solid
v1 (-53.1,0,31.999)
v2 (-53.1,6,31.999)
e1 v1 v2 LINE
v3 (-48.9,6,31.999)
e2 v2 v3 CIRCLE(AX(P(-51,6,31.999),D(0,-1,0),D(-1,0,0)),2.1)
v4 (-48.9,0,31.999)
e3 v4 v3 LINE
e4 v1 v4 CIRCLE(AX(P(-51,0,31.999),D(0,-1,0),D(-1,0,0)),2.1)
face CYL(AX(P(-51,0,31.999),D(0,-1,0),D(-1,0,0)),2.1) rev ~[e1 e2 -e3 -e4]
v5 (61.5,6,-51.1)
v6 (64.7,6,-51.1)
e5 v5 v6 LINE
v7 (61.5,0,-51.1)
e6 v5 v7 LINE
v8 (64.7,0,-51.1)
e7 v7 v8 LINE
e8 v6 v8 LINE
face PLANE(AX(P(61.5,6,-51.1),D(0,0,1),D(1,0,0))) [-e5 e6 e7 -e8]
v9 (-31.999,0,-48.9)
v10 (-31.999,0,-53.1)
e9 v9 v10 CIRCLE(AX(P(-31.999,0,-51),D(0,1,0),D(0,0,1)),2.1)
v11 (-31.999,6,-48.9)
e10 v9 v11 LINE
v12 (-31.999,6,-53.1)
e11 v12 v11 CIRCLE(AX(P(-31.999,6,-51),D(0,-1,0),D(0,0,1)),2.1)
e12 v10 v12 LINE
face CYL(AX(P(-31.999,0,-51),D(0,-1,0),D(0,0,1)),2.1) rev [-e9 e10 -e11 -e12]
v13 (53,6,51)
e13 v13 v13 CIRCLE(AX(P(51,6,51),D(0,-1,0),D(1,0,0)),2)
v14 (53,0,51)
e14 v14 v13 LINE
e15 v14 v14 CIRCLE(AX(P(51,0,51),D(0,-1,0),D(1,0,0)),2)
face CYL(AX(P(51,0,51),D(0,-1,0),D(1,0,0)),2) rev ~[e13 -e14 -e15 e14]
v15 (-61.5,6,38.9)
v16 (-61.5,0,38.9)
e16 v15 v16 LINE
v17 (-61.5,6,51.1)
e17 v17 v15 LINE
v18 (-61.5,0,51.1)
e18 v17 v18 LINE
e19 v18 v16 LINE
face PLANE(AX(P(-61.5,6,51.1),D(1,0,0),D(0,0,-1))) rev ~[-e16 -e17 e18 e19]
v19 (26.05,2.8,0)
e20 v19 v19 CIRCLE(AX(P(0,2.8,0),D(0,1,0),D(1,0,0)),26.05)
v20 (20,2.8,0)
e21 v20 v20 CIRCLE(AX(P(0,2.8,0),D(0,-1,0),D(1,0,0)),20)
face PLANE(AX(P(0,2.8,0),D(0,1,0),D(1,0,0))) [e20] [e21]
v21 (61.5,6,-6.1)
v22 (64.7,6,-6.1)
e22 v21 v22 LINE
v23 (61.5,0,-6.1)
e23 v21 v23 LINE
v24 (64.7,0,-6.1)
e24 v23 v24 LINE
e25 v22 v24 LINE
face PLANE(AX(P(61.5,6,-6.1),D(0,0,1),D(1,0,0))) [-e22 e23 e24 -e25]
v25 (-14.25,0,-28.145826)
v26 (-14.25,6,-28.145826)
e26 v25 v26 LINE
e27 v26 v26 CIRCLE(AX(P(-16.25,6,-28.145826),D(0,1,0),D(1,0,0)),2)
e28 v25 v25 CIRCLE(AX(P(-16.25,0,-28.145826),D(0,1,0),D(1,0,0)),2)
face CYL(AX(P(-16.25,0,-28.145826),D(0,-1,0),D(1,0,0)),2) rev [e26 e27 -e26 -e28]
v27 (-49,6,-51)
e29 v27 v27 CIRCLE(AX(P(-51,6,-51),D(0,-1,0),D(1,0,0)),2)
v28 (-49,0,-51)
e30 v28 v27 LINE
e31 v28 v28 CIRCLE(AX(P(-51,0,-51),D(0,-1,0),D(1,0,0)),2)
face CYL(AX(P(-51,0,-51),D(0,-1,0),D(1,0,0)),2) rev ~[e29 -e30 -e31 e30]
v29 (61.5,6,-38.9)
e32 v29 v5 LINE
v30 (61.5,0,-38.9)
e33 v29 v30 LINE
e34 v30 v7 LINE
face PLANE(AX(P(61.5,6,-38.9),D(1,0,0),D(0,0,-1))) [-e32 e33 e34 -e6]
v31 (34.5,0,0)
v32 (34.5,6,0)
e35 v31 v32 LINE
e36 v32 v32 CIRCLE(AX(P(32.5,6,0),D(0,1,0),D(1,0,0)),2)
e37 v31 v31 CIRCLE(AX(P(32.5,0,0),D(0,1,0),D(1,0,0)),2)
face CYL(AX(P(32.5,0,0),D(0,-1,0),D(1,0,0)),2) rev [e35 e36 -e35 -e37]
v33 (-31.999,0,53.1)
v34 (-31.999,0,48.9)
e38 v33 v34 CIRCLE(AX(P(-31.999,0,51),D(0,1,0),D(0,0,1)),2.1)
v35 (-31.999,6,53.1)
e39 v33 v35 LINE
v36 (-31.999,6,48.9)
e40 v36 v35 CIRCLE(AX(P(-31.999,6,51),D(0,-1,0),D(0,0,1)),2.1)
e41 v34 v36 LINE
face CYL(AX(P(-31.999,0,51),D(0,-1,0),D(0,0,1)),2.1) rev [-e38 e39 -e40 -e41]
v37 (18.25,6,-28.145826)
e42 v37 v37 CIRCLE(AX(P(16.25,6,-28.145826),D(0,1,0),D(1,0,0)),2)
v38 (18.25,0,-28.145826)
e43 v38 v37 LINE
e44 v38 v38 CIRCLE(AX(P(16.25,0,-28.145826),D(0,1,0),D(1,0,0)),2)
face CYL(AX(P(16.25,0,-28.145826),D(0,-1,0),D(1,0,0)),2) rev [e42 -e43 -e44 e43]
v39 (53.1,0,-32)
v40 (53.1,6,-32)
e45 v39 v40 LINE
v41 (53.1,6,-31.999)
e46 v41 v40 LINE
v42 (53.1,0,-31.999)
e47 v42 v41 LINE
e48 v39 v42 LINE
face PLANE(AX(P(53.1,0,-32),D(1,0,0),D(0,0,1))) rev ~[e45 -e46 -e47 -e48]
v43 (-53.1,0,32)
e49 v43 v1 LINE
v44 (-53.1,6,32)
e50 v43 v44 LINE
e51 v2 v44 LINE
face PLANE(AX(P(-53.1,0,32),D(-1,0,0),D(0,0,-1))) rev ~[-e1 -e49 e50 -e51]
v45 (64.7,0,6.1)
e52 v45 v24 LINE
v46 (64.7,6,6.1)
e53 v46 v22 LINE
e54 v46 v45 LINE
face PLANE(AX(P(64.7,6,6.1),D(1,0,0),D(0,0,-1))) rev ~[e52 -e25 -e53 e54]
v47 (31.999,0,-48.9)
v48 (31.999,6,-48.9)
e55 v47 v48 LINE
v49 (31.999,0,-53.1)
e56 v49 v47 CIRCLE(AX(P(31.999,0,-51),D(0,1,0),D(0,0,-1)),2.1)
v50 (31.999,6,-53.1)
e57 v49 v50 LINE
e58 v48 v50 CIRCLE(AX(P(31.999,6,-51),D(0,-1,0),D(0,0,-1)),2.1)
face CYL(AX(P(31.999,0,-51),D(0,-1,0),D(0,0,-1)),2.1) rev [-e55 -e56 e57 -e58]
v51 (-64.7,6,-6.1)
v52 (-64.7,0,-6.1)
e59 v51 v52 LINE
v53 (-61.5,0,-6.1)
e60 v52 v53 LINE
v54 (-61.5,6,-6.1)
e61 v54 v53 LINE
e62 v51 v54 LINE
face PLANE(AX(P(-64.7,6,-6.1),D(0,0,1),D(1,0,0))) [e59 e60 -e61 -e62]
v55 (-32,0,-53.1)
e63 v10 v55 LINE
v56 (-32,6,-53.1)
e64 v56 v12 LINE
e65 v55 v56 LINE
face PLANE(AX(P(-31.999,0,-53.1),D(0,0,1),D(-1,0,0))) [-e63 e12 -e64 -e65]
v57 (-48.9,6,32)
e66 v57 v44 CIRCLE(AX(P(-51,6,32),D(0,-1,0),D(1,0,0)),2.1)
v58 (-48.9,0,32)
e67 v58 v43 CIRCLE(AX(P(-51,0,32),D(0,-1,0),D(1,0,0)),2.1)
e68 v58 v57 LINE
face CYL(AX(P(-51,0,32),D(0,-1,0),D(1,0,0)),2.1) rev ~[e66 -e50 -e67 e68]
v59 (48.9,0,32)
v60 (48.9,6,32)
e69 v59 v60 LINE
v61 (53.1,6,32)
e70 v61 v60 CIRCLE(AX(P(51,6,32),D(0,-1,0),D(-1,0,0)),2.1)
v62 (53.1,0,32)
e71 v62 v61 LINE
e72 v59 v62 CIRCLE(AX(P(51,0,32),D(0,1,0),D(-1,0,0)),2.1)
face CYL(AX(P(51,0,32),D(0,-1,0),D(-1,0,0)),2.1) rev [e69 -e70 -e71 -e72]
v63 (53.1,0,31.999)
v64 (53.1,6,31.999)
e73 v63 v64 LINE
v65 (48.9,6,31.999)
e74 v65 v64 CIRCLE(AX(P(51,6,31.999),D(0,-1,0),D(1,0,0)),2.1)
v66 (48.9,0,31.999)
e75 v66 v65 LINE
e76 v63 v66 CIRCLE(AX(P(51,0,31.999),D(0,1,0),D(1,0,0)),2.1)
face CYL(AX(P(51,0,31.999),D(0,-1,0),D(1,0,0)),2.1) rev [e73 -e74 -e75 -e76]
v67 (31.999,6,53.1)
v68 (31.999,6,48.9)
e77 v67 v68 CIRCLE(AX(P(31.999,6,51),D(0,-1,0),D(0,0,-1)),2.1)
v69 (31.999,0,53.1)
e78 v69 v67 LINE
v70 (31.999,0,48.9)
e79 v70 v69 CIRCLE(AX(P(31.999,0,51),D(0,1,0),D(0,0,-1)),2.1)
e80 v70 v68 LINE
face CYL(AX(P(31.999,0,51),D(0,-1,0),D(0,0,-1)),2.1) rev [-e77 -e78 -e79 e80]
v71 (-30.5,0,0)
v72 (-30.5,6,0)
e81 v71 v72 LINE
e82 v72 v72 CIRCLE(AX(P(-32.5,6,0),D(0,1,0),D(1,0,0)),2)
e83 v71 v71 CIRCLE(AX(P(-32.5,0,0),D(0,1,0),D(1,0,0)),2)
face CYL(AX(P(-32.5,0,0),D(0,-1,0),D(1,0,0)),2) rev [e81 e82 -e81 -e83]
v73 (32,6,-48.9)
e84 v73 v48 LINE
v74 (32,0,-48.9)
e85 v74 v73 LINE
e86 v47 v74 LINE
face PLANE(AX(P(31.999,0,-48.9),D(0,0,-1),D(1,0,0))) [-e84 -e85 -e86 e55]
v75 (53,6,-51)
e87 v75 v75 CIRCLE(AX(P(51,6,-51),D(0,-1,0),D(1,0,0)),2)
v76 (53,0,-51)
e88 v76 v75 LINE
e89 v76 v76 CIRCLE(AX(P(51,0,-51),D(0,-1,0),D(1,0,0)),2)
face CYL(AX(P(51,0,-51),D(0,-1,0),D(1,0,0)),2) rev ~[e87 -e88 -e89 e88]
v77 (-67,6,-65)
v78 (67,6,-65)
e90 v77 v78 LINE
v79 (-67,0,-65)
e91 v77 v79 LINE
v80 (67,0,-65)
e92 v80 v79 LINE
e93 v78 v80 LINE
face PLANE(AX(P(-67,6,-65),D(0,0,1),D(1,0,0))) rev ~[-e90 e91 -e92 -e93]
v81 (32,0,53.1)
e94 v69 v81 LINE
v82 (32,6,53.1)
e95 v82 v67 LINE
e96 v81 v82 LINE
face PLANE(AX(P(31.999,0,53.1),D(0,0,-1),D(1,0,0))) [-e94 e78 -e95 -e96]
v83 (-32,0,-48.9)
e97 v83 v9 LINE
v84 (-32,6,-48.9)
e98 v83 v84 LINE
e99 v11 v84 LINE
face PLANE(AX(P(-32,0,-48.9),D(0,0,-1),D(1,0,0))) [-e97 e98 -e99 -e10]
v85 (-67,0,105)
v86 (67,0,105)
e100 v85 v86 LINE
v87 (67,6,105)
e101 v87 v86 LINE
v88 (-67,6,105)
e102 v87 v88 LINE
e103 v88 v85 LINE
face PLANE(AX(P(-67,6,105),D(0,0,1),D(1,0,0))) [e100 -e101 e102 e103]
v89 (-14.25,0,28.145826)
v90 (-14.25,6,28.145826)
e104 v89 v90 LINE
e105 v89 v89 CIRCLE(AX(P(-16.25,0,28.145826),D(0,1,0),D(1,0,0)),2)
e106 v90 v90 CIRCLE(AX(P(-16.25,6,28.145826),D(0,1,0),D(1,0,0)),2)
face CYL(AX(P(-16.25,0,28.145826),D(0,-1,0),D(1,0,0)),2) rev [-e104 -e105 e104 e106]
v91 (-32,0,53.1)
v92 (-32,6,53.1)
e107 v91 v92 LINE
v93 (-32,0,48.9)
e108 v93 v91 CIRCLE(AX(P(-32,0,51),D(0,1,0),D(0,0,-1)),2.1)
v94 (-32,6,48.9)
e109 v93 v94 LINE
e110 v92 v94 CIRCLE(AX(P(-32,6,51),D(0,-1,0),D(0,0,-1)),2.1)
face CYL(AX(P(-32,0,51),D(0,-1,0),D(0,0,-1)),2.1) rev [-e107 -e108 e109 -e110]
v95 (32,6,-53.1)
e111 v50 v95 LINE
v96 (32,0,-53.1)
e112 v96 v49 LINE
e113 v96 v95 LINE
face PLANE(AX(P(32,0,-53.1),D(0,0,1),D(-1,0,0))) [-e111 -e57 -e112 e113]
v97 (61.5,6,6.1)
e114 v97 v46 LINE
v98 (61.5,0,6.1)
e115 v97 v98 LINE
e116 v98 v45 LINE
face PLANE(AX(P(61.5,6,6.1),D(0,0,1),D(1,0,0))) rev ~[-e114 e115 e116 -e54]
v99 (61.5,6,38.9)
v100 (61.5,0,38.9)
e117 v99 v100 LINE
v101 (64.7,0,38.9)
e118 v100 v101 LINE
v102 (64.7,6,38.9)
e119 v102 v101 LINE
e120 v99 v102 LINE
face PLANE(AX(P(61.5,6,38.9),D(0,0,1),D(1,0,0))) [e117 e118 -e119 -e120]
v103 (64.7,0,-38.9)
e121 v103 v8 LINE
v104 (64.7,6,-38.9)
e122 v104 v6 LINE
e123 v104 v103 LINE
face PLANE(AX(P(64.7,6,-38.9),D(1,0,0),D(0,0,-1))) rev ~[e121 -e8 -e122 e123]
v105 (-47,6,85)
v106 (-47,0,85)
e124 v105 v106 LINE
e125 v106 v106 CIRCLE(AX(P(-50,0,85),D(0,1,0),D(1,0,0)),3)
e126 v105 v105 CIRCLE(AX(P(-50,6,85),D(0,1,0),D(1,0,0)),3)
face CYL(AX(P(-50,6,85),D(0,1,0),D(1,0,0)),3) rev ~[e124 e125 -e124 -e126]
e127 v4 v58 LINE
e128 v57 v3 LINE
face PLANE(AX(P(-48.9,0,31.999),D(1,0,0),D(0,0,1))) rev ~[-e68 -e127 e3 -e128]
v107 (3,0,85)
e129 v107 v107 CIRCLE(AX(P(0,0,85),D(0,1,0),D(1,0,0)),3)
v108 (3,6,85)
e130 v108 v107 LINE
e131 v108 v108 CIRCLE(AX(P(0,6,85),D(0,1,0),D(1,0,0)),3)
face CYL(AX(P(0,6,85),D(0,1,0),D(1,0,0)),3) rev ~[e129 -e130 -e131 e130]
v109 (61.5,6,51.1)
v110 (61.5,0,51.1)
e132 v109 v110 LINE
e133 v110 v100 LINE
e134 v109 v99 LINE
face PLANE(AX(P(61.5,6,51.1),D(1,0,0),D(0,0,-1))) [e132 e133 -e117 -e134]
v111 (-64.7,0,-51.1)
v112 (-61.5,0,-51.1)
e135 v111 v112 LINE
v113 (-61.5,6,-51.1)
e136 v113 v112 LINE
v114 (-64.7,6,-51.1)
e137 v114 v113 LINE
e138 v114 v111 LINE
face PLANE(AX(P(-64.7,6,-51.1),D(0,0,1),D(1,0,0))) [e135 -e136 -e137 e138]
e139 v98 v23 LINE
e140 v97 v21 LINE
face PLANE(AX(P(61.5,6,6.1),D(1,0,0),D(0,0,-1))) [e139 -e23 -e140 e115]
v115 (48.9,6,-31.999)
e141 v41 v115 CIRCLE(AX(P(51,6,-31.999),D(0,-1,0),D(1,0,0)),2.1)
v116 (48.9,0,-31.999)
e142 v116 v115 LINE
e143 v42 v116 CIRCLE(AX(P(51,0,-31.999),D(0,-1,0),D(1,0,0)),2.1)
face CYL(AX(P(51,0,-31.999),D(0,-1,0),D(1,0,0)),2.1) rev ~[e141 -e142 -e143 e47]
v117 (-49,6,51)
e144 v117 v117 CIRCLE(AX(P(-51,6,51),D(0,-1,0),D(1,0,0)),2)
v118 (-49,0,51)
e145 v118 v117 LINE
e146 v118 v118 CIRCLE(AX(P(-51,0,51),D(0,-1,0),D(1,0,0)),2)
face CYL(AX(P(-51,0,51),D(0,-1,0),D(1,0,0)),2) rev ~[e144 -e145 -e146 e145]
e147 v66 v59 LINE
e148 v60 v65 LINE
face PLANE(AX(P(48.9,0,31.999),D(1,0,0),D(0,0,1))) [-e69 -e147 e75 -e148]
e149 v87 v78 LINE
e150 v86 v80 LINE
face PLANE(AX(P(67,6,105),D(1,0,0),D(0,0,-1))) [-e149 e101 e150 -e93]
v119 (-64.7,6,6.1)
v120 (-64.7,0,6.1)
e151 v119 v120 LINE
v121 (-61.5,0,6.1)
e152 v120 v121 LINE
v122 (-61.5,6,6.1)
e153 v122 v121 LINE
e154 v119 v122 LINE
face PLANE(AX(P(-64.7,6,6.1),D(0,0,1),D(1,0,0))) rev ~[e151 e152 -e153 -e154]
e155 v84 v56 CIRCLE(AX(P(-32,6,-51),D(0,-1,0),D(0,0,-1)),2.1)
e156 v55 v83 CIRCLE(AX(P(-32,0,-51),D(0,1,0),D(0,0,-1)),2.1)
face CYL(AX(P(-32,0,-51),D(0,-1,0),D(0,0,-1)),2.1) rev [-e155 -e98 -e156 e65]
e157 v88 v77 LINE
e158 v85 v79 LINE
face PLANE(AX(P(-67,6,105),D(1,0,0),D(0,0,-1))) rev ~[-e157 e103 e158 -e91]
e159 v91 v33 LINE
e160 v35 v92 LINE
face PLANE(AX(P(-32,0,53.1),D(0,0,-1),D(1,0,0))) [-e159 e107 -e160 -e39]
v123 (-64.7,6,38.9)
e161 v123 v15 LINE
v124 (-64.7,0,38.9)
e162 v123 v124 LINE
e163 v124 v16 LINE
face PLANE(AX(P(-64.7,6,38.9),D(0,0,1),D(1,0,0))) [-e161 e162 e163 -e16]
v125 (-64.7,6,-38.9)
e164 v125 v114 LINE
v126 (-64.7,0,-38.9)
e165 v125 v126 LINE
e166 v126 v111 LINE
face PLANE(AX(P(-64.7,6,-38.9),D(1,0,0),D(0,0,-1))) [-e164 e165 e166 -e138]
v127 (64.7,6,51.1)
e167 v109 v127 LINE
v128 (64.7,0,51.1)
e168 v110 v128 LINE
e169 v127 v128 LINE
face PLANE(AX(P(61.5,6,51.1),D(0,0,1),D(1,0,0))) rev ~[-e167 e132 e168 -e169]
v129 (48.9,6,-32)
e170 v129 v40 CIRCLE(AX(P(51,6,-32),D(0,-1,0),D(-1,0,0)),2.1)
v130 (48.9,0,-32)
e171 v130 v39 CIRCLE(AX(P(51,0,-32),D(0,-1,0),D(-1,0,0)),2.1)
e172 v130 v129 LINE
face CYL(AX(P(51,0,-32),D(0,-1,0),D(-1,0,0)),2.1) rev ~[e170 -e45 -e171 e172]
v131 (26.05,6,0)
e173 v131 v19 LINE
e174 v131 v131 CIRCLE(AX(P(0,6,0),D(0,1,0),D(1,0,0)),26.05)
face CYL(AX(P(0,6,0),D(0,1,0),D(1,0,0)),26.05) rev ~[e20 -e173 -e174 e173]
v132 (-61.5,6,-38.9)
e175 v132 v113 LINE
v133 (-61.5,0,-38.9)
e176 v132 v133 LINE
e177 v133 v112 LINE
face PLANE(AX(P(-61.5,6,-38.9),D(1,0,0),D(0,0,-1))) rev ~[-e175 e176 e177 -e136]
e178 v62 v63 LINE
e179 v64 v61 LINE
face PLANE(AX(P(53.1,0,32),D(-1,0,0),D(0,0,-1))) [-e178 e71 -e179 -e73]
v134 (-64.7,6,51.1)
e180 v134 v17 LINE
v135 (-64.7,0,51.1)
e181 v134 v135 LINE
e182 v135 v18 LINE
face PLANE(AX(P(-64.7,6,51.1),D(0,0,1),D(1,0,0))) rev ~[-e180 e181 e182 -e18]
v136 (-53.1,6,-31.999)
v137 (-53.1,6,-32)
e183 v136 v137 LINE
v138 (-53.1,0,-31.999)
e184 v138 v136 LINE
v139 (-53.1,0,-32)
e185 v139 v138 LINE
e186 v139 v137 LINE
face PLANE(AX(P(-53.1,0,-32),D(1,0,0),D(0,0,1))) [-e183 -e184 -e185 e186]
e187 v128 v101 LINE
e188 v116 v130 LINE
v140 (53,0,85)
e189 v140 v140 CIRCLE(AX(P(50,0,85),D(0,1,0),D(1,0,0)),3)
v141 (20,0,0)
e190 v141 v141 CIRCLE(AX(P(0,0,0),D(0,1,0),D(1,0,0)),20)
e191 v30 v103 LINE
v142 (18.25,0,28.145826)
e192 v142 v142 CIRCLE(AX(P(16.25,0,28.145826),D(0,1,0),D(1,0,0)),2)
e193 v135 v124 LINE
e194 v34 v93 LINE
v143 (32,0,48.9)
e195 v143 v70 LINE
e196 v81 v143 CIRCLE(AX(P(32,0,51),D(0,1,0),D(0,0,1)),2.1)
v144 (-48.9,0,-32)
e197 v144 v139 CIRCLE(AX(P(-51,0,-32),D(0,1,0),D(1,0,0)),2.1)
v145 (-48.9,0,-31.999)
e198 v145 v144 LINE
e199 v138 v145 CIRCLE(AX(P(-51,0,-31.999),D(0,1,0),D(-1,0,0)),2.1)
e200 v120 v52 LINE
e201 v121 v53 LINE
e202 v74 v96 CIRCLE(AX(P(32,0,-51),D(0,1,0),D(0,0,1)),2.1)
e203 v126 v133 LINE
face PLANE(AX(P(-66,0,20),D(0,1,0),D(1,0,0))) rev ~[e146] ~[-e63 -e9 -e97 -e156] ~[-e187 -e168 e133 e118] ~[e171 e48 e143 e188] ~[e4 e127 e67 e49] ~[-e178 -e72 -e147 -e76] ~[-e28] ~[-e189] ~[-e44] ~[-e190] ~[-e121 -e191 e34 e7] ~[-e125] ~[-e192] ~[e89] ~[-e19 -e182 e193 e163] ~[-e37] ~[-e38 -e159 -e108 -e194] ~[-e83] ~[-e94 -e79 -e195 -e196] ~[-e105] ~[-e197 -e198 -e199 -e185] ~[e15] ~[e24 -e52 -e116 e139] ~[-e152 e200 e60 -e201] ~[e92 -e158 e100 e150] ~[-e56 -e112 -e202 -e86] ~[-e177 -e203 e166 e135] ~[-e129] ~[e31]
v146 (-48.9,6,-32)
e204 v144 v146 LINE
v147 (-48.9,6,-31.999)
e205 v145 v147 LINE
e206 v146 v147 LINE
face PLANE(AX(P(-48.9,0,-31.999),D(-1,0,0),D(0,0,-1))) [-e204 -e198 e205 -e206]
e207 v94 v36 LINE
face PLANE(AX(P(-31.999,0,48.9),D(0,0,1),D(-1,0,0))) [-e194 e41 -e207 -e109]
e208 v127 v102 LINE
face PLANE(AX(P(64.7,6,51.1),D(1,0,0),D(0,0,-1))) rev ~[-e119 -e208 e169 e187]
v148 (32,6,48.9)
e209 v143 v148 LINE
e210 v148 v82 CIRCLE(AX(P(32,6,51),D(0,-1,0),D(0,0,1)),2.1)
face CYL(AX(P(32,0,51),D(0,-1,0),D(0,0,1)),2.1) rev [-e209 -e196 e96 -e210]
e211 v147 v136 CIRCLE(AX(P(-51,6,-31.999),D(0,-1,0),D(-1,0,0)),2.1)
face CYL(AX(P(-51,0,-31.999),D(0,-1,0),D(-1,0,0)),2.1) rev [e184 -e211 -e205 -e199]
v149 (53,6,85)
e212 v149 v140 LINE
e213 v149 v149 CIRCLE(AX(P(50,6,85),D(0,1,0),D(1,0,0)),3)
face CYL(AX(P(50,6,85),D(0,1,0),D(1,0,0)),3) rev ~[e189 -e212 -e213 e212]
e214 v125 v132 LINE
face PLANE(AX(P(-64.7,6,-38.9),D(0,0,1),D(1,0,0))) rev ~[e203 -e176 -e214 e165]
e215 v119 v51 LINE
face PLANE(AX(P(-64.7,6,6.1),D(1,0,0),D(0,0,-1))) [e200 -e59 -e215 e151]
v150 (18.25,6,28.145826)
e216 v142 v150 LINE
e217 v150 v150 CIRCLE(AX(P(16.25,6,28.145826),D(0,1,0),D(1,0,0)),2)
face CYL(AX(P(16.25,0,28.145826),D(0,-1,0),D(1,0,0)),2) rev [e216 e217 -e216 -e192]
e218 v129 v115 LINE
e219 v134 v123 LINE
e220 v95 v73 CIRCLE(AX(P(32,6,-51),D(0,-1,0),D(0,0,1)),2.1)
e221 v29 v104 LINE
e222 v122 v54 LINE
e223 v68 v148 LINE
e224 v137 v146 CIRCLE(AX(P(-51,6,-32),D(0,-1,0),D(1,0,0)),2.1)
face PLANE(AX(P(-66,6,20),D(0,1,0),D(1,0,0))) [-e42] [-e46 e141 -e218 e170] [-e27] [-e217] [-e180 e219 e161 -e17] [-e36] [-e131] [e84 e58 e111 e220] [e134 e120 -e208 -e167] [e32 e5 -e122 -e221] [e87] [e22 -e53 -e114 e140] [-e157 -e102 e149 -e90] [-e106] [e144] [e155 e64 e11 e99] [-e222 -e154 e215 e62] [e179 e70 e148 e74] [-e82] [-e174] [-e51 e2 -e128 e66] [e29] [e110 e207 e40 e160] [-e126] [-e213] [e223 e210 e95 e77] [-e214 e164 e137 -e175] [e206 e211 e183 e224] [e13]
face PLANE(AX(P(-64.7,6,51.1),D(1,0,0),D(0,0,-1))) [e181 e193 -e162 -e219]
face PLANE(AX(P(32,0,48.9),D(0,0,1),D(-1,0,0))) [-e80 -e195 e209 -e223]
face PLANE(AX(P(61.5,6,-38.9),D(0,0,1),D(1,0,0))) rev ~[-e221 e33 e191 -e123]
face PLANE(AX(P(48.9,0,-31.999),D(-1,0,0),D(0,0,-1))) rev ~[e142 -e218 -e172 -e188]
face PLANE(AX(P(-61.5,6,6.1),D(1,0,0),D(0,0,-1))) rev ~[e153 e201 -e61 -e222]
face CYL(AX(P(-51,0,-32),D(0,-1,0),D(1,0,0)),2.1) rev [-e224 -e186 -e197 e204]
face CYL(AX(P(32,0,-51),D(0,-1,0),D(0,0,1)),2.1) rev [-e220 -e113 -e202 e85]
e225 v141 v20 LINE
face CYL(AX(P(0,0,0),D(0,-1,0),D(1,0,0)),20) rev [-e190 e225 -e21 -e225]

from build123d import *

# Parameters (mm, degrees)
SKETCH15_W          = 130
SKETCH15_H          = 130
SKETCH15_R          = 20
SKETCH15_R_2        = 2
BOSS_EXTRUDE1_DEPTH = 6
SKETCH16_R          = 26.05
CUT_EXTRUDE6_DEPTH  = 3.2
SKETCH17_R          = 2
CUT_EXTRUDE7_DEPTH  = 7
SKETCH18_W          = 130
SKETCH18_H          = 40
SKETCH18_R          = 3
BOSS_EXTRUDE2_DEPTH = 6
SKETCH21_W          = 2
SKETCH21_H          = 170
BOSS_EXTRUDE3_DEPTH = 6
SKETCH20_W          = 3.2
SKETCH20_H          = 12.2
CUT_EXTRUDE8_DEPTH  = 10


with BuildPart() as part:
    # Sketch15 → Boss-Extrude1 (new body)
    with BuildSketch(Plane(origin=(0, 0, 0), x_dir=(1, 0, 0), z_dir=(0, 1, 0))):
        Rectangle(SKETCH15_W, SKETCH15_H)
        Circle(SKETCH15_R, mode=Mode.SUBTRACT)
        with Locations((32.5, 0)):
            Circle(SKETCH15_R_2, mode=Mode.SUBTRACT)
        with Locations((16.25, -28.145825623)):
            Circle(SKETCH15_R_2, mode=Mode.SUBTRACT)
        with Locations((-16.25, -28.145825623)):
            Circle(SKETCH15_R_2, mode=Mode.SUBTRACT)
        with Locations((-32.5, 0)):
            Circle(SKETCH15_R_2, mode=Mode.SUBTRACT)
        with Locations((-16.25, 28.145825623)):
            Circle(SKETCH15_R_2, mode=Mode.SUBTRACT)
        with Locations((16.25, 28.145825623)):
            Circle(SKETCH15_R_2, mode=Mode.SUBTRACT)
    extrude(amount=BOSS_EXTRUDE1_DEPTH)

    # Sketch16 → Cut-Extrude6 (cut)
    with BuildSketch(Plane(origin=(0, 6, 0), x_dir=(1, 0, 0), z_dir=(0, 1, 0))):
        Circle(SKETCH16_R)
    extrude(amount=-CUT_EXTRUDE6_DEPTH, mode=Mode.SUBTRACT)

    # Sketch17 → Cut-Extrude7 (cut, through all)
    with BuildSketch(Plane.XZ):
        with Locations((-51, 51)):
            Circle(SKETCH17_R)
        with BuildLine():
            ThreePointArc((-31.999, 53.1), (-29.899, 51), (-31.999, 48.9))
            Line((-31.999, 48.9), (-32, 48.9))
            ThreePointArc((-32, 48.9), (-34.1, 51), (-32, 53.1))
            Line((-32, 53.1), (-31.999, 53.1))
        make_face()
        with BuildLine():
            Line((-53.1, 32), (-53.1, 31.999))
            ThreePointArc((-53.1, 31.999), (-51, 29.899), (-48.9, 31.999))
            Line((-48.9, 31.999), (-48.9, 32))
            ThreePointArc((-48.9, 32), (-51, 34.1), (-53.1, 32))
        make_face()
        with Locations((51, 51)):
            Circle(SKETCH17_R)
        with BuildLine():
            ThreePointArc((53.1, 31.999), (51, 29.899), (48.9, 31.999))
            Line((48.9, 31.999), (48.9, 32))
            ThreePointArc((48.9, 32), (51, 34.1), (53.1, 32))
            Line((53.1, 32), (53.1, 31.999))
        make_face()
        with Locations((51, -51)):
            Circle(SKETCH17_R)
        with BuildLine():
            Line((53.1, -32), (53.1, -31.999))
            ThreePointArc((53.1, -31.999), (51, -29.899), (48.9, -31.999))
            Line((48.9, -31.999), (48.9, -32))
            ThreePointArc((48.9, -32), (51, -34.1), (53.1, -32))
        make_face()
        with BuildLine():
            ThreePointArc((31.999, -53.1), (29.899, -51), (31.999, -48.9))
            Line((31.999, -48.9), (32, -48.9))
            ThreePointArc((32, -48.9), (34.1, -51), (32, -53.1))
            Line((32, -53.1), (31.999, -53.1))
        make_face()
        with BuildLine():
            ThreePointArc((-32, -53.1), (-34.1, -51), (-32, -48.9))
            Line((-32, -48.9), (-31.999, -48.9))
            ThreePointArc((-31.999, -48.9), (-29.899, -51), (-31.999, -53.1))
            Line((-31.999, -53.1), (-32, -53.1))
        make_face()
        with Locations((-51, -51)):
            Circle(SKETCH17_R)
        with BuildLine():
            Line((-53.1, -32), (-53.1, -31.999))
            ThreePointArc((-53.1, -31.999), (-51, -29.899), (-48.9, -31.999))
            Line((-48.9, -31.999), (-48.9, -32))
            ThreePointArc((-48.9, -32), (-51, -34.1), (-53.1, -32))
        make_face()
        with BuildLine():
            ThreePointArc((32, 53.1), (34.1, 51), (32, 48.9))
            Line((32, 48.9), (31.999, 48.9))
            ThreePointArc((31.999, 48.9), (29.899, 51), (31.999, 53.1))
            Line((31.999, 53.1), (32, 53.1))
        make_face()
    extrude(amount=-CUT_EXTRUDE7_DEPTH, mode=Mode.SUBTRACT)

    # Sketch18 → Boss-Extrude2 (add)
    with BuildSketch(Plane(origin=(0, 6, 0), x_dir=(1, 0, 0), z_dir=(0, 1, 0))):
        with Locations((0, -85)):
            Rectangle(SKETCH18_W, SKETCH18_H)
        with Locations((50, -85)):
            Circle(SKETCH18_R, mode=Mode.SUBTRACT)
        with Locations((0, -85)):
            Circle(SKETCH18_R, mode=Mode.SUBTRACT)
        with Locations((-50, -85)):
            Circle(SKETCH18_R, mode=Mode.SUBTRACT)
    extrude(amount=-BOSS_EXTRUDE2_DEPTH)

    # Sketch21 → Boss-Extrude3 (add)
    with BuildSketch(Plane(origin=(0, 6, 0), x_dir=(1, 0, 0), z_dir=(0, 1, 0))):
        with Locations((-66, -20)):
            Rectangle(SKETCH21_W, SKETCH21_H)
        with Locations((66, -20)):
            Rectangle(SKETCH21_W, SKETCH21_H)
    extrude(amount=-BOSS_EXTRUDE3_DEPTH)

    # Sketch20 → Cut-Extrude8 (cut)
    with BuildSketch(Plane(origin=(0, 6, 0), x_dir=(1, 0, 0), z_dir=(0, 1, 0))):
        with Locations((-63.1, 45)):
            Rectangle(SKETCH20_W, SKETCH20_H)
        with Locations((-63.1, 0)):
            Rectangle(SKETCH20_W, SKETCH20_H)
        with Locations((-63.1, -45)):
            Rectangle(SKETCH20_W, SKETCH20_H)
        with Locations((63.1, -45)):
            Rectangle(SKETCH20_W, SKETCH20_H)
        with Locations((63.1, 0)):
            Rectangle(SKETCH20_W, SKETCH20_H)
        with Locations((63.1, 45)):
            Rectangle(SKETCH20_W, SKETCH20_H)
    extrude(amount=-CUT_EXTRUDE8_DEPTH, mode=Mode.SUBTRACT)


solid = part.part
